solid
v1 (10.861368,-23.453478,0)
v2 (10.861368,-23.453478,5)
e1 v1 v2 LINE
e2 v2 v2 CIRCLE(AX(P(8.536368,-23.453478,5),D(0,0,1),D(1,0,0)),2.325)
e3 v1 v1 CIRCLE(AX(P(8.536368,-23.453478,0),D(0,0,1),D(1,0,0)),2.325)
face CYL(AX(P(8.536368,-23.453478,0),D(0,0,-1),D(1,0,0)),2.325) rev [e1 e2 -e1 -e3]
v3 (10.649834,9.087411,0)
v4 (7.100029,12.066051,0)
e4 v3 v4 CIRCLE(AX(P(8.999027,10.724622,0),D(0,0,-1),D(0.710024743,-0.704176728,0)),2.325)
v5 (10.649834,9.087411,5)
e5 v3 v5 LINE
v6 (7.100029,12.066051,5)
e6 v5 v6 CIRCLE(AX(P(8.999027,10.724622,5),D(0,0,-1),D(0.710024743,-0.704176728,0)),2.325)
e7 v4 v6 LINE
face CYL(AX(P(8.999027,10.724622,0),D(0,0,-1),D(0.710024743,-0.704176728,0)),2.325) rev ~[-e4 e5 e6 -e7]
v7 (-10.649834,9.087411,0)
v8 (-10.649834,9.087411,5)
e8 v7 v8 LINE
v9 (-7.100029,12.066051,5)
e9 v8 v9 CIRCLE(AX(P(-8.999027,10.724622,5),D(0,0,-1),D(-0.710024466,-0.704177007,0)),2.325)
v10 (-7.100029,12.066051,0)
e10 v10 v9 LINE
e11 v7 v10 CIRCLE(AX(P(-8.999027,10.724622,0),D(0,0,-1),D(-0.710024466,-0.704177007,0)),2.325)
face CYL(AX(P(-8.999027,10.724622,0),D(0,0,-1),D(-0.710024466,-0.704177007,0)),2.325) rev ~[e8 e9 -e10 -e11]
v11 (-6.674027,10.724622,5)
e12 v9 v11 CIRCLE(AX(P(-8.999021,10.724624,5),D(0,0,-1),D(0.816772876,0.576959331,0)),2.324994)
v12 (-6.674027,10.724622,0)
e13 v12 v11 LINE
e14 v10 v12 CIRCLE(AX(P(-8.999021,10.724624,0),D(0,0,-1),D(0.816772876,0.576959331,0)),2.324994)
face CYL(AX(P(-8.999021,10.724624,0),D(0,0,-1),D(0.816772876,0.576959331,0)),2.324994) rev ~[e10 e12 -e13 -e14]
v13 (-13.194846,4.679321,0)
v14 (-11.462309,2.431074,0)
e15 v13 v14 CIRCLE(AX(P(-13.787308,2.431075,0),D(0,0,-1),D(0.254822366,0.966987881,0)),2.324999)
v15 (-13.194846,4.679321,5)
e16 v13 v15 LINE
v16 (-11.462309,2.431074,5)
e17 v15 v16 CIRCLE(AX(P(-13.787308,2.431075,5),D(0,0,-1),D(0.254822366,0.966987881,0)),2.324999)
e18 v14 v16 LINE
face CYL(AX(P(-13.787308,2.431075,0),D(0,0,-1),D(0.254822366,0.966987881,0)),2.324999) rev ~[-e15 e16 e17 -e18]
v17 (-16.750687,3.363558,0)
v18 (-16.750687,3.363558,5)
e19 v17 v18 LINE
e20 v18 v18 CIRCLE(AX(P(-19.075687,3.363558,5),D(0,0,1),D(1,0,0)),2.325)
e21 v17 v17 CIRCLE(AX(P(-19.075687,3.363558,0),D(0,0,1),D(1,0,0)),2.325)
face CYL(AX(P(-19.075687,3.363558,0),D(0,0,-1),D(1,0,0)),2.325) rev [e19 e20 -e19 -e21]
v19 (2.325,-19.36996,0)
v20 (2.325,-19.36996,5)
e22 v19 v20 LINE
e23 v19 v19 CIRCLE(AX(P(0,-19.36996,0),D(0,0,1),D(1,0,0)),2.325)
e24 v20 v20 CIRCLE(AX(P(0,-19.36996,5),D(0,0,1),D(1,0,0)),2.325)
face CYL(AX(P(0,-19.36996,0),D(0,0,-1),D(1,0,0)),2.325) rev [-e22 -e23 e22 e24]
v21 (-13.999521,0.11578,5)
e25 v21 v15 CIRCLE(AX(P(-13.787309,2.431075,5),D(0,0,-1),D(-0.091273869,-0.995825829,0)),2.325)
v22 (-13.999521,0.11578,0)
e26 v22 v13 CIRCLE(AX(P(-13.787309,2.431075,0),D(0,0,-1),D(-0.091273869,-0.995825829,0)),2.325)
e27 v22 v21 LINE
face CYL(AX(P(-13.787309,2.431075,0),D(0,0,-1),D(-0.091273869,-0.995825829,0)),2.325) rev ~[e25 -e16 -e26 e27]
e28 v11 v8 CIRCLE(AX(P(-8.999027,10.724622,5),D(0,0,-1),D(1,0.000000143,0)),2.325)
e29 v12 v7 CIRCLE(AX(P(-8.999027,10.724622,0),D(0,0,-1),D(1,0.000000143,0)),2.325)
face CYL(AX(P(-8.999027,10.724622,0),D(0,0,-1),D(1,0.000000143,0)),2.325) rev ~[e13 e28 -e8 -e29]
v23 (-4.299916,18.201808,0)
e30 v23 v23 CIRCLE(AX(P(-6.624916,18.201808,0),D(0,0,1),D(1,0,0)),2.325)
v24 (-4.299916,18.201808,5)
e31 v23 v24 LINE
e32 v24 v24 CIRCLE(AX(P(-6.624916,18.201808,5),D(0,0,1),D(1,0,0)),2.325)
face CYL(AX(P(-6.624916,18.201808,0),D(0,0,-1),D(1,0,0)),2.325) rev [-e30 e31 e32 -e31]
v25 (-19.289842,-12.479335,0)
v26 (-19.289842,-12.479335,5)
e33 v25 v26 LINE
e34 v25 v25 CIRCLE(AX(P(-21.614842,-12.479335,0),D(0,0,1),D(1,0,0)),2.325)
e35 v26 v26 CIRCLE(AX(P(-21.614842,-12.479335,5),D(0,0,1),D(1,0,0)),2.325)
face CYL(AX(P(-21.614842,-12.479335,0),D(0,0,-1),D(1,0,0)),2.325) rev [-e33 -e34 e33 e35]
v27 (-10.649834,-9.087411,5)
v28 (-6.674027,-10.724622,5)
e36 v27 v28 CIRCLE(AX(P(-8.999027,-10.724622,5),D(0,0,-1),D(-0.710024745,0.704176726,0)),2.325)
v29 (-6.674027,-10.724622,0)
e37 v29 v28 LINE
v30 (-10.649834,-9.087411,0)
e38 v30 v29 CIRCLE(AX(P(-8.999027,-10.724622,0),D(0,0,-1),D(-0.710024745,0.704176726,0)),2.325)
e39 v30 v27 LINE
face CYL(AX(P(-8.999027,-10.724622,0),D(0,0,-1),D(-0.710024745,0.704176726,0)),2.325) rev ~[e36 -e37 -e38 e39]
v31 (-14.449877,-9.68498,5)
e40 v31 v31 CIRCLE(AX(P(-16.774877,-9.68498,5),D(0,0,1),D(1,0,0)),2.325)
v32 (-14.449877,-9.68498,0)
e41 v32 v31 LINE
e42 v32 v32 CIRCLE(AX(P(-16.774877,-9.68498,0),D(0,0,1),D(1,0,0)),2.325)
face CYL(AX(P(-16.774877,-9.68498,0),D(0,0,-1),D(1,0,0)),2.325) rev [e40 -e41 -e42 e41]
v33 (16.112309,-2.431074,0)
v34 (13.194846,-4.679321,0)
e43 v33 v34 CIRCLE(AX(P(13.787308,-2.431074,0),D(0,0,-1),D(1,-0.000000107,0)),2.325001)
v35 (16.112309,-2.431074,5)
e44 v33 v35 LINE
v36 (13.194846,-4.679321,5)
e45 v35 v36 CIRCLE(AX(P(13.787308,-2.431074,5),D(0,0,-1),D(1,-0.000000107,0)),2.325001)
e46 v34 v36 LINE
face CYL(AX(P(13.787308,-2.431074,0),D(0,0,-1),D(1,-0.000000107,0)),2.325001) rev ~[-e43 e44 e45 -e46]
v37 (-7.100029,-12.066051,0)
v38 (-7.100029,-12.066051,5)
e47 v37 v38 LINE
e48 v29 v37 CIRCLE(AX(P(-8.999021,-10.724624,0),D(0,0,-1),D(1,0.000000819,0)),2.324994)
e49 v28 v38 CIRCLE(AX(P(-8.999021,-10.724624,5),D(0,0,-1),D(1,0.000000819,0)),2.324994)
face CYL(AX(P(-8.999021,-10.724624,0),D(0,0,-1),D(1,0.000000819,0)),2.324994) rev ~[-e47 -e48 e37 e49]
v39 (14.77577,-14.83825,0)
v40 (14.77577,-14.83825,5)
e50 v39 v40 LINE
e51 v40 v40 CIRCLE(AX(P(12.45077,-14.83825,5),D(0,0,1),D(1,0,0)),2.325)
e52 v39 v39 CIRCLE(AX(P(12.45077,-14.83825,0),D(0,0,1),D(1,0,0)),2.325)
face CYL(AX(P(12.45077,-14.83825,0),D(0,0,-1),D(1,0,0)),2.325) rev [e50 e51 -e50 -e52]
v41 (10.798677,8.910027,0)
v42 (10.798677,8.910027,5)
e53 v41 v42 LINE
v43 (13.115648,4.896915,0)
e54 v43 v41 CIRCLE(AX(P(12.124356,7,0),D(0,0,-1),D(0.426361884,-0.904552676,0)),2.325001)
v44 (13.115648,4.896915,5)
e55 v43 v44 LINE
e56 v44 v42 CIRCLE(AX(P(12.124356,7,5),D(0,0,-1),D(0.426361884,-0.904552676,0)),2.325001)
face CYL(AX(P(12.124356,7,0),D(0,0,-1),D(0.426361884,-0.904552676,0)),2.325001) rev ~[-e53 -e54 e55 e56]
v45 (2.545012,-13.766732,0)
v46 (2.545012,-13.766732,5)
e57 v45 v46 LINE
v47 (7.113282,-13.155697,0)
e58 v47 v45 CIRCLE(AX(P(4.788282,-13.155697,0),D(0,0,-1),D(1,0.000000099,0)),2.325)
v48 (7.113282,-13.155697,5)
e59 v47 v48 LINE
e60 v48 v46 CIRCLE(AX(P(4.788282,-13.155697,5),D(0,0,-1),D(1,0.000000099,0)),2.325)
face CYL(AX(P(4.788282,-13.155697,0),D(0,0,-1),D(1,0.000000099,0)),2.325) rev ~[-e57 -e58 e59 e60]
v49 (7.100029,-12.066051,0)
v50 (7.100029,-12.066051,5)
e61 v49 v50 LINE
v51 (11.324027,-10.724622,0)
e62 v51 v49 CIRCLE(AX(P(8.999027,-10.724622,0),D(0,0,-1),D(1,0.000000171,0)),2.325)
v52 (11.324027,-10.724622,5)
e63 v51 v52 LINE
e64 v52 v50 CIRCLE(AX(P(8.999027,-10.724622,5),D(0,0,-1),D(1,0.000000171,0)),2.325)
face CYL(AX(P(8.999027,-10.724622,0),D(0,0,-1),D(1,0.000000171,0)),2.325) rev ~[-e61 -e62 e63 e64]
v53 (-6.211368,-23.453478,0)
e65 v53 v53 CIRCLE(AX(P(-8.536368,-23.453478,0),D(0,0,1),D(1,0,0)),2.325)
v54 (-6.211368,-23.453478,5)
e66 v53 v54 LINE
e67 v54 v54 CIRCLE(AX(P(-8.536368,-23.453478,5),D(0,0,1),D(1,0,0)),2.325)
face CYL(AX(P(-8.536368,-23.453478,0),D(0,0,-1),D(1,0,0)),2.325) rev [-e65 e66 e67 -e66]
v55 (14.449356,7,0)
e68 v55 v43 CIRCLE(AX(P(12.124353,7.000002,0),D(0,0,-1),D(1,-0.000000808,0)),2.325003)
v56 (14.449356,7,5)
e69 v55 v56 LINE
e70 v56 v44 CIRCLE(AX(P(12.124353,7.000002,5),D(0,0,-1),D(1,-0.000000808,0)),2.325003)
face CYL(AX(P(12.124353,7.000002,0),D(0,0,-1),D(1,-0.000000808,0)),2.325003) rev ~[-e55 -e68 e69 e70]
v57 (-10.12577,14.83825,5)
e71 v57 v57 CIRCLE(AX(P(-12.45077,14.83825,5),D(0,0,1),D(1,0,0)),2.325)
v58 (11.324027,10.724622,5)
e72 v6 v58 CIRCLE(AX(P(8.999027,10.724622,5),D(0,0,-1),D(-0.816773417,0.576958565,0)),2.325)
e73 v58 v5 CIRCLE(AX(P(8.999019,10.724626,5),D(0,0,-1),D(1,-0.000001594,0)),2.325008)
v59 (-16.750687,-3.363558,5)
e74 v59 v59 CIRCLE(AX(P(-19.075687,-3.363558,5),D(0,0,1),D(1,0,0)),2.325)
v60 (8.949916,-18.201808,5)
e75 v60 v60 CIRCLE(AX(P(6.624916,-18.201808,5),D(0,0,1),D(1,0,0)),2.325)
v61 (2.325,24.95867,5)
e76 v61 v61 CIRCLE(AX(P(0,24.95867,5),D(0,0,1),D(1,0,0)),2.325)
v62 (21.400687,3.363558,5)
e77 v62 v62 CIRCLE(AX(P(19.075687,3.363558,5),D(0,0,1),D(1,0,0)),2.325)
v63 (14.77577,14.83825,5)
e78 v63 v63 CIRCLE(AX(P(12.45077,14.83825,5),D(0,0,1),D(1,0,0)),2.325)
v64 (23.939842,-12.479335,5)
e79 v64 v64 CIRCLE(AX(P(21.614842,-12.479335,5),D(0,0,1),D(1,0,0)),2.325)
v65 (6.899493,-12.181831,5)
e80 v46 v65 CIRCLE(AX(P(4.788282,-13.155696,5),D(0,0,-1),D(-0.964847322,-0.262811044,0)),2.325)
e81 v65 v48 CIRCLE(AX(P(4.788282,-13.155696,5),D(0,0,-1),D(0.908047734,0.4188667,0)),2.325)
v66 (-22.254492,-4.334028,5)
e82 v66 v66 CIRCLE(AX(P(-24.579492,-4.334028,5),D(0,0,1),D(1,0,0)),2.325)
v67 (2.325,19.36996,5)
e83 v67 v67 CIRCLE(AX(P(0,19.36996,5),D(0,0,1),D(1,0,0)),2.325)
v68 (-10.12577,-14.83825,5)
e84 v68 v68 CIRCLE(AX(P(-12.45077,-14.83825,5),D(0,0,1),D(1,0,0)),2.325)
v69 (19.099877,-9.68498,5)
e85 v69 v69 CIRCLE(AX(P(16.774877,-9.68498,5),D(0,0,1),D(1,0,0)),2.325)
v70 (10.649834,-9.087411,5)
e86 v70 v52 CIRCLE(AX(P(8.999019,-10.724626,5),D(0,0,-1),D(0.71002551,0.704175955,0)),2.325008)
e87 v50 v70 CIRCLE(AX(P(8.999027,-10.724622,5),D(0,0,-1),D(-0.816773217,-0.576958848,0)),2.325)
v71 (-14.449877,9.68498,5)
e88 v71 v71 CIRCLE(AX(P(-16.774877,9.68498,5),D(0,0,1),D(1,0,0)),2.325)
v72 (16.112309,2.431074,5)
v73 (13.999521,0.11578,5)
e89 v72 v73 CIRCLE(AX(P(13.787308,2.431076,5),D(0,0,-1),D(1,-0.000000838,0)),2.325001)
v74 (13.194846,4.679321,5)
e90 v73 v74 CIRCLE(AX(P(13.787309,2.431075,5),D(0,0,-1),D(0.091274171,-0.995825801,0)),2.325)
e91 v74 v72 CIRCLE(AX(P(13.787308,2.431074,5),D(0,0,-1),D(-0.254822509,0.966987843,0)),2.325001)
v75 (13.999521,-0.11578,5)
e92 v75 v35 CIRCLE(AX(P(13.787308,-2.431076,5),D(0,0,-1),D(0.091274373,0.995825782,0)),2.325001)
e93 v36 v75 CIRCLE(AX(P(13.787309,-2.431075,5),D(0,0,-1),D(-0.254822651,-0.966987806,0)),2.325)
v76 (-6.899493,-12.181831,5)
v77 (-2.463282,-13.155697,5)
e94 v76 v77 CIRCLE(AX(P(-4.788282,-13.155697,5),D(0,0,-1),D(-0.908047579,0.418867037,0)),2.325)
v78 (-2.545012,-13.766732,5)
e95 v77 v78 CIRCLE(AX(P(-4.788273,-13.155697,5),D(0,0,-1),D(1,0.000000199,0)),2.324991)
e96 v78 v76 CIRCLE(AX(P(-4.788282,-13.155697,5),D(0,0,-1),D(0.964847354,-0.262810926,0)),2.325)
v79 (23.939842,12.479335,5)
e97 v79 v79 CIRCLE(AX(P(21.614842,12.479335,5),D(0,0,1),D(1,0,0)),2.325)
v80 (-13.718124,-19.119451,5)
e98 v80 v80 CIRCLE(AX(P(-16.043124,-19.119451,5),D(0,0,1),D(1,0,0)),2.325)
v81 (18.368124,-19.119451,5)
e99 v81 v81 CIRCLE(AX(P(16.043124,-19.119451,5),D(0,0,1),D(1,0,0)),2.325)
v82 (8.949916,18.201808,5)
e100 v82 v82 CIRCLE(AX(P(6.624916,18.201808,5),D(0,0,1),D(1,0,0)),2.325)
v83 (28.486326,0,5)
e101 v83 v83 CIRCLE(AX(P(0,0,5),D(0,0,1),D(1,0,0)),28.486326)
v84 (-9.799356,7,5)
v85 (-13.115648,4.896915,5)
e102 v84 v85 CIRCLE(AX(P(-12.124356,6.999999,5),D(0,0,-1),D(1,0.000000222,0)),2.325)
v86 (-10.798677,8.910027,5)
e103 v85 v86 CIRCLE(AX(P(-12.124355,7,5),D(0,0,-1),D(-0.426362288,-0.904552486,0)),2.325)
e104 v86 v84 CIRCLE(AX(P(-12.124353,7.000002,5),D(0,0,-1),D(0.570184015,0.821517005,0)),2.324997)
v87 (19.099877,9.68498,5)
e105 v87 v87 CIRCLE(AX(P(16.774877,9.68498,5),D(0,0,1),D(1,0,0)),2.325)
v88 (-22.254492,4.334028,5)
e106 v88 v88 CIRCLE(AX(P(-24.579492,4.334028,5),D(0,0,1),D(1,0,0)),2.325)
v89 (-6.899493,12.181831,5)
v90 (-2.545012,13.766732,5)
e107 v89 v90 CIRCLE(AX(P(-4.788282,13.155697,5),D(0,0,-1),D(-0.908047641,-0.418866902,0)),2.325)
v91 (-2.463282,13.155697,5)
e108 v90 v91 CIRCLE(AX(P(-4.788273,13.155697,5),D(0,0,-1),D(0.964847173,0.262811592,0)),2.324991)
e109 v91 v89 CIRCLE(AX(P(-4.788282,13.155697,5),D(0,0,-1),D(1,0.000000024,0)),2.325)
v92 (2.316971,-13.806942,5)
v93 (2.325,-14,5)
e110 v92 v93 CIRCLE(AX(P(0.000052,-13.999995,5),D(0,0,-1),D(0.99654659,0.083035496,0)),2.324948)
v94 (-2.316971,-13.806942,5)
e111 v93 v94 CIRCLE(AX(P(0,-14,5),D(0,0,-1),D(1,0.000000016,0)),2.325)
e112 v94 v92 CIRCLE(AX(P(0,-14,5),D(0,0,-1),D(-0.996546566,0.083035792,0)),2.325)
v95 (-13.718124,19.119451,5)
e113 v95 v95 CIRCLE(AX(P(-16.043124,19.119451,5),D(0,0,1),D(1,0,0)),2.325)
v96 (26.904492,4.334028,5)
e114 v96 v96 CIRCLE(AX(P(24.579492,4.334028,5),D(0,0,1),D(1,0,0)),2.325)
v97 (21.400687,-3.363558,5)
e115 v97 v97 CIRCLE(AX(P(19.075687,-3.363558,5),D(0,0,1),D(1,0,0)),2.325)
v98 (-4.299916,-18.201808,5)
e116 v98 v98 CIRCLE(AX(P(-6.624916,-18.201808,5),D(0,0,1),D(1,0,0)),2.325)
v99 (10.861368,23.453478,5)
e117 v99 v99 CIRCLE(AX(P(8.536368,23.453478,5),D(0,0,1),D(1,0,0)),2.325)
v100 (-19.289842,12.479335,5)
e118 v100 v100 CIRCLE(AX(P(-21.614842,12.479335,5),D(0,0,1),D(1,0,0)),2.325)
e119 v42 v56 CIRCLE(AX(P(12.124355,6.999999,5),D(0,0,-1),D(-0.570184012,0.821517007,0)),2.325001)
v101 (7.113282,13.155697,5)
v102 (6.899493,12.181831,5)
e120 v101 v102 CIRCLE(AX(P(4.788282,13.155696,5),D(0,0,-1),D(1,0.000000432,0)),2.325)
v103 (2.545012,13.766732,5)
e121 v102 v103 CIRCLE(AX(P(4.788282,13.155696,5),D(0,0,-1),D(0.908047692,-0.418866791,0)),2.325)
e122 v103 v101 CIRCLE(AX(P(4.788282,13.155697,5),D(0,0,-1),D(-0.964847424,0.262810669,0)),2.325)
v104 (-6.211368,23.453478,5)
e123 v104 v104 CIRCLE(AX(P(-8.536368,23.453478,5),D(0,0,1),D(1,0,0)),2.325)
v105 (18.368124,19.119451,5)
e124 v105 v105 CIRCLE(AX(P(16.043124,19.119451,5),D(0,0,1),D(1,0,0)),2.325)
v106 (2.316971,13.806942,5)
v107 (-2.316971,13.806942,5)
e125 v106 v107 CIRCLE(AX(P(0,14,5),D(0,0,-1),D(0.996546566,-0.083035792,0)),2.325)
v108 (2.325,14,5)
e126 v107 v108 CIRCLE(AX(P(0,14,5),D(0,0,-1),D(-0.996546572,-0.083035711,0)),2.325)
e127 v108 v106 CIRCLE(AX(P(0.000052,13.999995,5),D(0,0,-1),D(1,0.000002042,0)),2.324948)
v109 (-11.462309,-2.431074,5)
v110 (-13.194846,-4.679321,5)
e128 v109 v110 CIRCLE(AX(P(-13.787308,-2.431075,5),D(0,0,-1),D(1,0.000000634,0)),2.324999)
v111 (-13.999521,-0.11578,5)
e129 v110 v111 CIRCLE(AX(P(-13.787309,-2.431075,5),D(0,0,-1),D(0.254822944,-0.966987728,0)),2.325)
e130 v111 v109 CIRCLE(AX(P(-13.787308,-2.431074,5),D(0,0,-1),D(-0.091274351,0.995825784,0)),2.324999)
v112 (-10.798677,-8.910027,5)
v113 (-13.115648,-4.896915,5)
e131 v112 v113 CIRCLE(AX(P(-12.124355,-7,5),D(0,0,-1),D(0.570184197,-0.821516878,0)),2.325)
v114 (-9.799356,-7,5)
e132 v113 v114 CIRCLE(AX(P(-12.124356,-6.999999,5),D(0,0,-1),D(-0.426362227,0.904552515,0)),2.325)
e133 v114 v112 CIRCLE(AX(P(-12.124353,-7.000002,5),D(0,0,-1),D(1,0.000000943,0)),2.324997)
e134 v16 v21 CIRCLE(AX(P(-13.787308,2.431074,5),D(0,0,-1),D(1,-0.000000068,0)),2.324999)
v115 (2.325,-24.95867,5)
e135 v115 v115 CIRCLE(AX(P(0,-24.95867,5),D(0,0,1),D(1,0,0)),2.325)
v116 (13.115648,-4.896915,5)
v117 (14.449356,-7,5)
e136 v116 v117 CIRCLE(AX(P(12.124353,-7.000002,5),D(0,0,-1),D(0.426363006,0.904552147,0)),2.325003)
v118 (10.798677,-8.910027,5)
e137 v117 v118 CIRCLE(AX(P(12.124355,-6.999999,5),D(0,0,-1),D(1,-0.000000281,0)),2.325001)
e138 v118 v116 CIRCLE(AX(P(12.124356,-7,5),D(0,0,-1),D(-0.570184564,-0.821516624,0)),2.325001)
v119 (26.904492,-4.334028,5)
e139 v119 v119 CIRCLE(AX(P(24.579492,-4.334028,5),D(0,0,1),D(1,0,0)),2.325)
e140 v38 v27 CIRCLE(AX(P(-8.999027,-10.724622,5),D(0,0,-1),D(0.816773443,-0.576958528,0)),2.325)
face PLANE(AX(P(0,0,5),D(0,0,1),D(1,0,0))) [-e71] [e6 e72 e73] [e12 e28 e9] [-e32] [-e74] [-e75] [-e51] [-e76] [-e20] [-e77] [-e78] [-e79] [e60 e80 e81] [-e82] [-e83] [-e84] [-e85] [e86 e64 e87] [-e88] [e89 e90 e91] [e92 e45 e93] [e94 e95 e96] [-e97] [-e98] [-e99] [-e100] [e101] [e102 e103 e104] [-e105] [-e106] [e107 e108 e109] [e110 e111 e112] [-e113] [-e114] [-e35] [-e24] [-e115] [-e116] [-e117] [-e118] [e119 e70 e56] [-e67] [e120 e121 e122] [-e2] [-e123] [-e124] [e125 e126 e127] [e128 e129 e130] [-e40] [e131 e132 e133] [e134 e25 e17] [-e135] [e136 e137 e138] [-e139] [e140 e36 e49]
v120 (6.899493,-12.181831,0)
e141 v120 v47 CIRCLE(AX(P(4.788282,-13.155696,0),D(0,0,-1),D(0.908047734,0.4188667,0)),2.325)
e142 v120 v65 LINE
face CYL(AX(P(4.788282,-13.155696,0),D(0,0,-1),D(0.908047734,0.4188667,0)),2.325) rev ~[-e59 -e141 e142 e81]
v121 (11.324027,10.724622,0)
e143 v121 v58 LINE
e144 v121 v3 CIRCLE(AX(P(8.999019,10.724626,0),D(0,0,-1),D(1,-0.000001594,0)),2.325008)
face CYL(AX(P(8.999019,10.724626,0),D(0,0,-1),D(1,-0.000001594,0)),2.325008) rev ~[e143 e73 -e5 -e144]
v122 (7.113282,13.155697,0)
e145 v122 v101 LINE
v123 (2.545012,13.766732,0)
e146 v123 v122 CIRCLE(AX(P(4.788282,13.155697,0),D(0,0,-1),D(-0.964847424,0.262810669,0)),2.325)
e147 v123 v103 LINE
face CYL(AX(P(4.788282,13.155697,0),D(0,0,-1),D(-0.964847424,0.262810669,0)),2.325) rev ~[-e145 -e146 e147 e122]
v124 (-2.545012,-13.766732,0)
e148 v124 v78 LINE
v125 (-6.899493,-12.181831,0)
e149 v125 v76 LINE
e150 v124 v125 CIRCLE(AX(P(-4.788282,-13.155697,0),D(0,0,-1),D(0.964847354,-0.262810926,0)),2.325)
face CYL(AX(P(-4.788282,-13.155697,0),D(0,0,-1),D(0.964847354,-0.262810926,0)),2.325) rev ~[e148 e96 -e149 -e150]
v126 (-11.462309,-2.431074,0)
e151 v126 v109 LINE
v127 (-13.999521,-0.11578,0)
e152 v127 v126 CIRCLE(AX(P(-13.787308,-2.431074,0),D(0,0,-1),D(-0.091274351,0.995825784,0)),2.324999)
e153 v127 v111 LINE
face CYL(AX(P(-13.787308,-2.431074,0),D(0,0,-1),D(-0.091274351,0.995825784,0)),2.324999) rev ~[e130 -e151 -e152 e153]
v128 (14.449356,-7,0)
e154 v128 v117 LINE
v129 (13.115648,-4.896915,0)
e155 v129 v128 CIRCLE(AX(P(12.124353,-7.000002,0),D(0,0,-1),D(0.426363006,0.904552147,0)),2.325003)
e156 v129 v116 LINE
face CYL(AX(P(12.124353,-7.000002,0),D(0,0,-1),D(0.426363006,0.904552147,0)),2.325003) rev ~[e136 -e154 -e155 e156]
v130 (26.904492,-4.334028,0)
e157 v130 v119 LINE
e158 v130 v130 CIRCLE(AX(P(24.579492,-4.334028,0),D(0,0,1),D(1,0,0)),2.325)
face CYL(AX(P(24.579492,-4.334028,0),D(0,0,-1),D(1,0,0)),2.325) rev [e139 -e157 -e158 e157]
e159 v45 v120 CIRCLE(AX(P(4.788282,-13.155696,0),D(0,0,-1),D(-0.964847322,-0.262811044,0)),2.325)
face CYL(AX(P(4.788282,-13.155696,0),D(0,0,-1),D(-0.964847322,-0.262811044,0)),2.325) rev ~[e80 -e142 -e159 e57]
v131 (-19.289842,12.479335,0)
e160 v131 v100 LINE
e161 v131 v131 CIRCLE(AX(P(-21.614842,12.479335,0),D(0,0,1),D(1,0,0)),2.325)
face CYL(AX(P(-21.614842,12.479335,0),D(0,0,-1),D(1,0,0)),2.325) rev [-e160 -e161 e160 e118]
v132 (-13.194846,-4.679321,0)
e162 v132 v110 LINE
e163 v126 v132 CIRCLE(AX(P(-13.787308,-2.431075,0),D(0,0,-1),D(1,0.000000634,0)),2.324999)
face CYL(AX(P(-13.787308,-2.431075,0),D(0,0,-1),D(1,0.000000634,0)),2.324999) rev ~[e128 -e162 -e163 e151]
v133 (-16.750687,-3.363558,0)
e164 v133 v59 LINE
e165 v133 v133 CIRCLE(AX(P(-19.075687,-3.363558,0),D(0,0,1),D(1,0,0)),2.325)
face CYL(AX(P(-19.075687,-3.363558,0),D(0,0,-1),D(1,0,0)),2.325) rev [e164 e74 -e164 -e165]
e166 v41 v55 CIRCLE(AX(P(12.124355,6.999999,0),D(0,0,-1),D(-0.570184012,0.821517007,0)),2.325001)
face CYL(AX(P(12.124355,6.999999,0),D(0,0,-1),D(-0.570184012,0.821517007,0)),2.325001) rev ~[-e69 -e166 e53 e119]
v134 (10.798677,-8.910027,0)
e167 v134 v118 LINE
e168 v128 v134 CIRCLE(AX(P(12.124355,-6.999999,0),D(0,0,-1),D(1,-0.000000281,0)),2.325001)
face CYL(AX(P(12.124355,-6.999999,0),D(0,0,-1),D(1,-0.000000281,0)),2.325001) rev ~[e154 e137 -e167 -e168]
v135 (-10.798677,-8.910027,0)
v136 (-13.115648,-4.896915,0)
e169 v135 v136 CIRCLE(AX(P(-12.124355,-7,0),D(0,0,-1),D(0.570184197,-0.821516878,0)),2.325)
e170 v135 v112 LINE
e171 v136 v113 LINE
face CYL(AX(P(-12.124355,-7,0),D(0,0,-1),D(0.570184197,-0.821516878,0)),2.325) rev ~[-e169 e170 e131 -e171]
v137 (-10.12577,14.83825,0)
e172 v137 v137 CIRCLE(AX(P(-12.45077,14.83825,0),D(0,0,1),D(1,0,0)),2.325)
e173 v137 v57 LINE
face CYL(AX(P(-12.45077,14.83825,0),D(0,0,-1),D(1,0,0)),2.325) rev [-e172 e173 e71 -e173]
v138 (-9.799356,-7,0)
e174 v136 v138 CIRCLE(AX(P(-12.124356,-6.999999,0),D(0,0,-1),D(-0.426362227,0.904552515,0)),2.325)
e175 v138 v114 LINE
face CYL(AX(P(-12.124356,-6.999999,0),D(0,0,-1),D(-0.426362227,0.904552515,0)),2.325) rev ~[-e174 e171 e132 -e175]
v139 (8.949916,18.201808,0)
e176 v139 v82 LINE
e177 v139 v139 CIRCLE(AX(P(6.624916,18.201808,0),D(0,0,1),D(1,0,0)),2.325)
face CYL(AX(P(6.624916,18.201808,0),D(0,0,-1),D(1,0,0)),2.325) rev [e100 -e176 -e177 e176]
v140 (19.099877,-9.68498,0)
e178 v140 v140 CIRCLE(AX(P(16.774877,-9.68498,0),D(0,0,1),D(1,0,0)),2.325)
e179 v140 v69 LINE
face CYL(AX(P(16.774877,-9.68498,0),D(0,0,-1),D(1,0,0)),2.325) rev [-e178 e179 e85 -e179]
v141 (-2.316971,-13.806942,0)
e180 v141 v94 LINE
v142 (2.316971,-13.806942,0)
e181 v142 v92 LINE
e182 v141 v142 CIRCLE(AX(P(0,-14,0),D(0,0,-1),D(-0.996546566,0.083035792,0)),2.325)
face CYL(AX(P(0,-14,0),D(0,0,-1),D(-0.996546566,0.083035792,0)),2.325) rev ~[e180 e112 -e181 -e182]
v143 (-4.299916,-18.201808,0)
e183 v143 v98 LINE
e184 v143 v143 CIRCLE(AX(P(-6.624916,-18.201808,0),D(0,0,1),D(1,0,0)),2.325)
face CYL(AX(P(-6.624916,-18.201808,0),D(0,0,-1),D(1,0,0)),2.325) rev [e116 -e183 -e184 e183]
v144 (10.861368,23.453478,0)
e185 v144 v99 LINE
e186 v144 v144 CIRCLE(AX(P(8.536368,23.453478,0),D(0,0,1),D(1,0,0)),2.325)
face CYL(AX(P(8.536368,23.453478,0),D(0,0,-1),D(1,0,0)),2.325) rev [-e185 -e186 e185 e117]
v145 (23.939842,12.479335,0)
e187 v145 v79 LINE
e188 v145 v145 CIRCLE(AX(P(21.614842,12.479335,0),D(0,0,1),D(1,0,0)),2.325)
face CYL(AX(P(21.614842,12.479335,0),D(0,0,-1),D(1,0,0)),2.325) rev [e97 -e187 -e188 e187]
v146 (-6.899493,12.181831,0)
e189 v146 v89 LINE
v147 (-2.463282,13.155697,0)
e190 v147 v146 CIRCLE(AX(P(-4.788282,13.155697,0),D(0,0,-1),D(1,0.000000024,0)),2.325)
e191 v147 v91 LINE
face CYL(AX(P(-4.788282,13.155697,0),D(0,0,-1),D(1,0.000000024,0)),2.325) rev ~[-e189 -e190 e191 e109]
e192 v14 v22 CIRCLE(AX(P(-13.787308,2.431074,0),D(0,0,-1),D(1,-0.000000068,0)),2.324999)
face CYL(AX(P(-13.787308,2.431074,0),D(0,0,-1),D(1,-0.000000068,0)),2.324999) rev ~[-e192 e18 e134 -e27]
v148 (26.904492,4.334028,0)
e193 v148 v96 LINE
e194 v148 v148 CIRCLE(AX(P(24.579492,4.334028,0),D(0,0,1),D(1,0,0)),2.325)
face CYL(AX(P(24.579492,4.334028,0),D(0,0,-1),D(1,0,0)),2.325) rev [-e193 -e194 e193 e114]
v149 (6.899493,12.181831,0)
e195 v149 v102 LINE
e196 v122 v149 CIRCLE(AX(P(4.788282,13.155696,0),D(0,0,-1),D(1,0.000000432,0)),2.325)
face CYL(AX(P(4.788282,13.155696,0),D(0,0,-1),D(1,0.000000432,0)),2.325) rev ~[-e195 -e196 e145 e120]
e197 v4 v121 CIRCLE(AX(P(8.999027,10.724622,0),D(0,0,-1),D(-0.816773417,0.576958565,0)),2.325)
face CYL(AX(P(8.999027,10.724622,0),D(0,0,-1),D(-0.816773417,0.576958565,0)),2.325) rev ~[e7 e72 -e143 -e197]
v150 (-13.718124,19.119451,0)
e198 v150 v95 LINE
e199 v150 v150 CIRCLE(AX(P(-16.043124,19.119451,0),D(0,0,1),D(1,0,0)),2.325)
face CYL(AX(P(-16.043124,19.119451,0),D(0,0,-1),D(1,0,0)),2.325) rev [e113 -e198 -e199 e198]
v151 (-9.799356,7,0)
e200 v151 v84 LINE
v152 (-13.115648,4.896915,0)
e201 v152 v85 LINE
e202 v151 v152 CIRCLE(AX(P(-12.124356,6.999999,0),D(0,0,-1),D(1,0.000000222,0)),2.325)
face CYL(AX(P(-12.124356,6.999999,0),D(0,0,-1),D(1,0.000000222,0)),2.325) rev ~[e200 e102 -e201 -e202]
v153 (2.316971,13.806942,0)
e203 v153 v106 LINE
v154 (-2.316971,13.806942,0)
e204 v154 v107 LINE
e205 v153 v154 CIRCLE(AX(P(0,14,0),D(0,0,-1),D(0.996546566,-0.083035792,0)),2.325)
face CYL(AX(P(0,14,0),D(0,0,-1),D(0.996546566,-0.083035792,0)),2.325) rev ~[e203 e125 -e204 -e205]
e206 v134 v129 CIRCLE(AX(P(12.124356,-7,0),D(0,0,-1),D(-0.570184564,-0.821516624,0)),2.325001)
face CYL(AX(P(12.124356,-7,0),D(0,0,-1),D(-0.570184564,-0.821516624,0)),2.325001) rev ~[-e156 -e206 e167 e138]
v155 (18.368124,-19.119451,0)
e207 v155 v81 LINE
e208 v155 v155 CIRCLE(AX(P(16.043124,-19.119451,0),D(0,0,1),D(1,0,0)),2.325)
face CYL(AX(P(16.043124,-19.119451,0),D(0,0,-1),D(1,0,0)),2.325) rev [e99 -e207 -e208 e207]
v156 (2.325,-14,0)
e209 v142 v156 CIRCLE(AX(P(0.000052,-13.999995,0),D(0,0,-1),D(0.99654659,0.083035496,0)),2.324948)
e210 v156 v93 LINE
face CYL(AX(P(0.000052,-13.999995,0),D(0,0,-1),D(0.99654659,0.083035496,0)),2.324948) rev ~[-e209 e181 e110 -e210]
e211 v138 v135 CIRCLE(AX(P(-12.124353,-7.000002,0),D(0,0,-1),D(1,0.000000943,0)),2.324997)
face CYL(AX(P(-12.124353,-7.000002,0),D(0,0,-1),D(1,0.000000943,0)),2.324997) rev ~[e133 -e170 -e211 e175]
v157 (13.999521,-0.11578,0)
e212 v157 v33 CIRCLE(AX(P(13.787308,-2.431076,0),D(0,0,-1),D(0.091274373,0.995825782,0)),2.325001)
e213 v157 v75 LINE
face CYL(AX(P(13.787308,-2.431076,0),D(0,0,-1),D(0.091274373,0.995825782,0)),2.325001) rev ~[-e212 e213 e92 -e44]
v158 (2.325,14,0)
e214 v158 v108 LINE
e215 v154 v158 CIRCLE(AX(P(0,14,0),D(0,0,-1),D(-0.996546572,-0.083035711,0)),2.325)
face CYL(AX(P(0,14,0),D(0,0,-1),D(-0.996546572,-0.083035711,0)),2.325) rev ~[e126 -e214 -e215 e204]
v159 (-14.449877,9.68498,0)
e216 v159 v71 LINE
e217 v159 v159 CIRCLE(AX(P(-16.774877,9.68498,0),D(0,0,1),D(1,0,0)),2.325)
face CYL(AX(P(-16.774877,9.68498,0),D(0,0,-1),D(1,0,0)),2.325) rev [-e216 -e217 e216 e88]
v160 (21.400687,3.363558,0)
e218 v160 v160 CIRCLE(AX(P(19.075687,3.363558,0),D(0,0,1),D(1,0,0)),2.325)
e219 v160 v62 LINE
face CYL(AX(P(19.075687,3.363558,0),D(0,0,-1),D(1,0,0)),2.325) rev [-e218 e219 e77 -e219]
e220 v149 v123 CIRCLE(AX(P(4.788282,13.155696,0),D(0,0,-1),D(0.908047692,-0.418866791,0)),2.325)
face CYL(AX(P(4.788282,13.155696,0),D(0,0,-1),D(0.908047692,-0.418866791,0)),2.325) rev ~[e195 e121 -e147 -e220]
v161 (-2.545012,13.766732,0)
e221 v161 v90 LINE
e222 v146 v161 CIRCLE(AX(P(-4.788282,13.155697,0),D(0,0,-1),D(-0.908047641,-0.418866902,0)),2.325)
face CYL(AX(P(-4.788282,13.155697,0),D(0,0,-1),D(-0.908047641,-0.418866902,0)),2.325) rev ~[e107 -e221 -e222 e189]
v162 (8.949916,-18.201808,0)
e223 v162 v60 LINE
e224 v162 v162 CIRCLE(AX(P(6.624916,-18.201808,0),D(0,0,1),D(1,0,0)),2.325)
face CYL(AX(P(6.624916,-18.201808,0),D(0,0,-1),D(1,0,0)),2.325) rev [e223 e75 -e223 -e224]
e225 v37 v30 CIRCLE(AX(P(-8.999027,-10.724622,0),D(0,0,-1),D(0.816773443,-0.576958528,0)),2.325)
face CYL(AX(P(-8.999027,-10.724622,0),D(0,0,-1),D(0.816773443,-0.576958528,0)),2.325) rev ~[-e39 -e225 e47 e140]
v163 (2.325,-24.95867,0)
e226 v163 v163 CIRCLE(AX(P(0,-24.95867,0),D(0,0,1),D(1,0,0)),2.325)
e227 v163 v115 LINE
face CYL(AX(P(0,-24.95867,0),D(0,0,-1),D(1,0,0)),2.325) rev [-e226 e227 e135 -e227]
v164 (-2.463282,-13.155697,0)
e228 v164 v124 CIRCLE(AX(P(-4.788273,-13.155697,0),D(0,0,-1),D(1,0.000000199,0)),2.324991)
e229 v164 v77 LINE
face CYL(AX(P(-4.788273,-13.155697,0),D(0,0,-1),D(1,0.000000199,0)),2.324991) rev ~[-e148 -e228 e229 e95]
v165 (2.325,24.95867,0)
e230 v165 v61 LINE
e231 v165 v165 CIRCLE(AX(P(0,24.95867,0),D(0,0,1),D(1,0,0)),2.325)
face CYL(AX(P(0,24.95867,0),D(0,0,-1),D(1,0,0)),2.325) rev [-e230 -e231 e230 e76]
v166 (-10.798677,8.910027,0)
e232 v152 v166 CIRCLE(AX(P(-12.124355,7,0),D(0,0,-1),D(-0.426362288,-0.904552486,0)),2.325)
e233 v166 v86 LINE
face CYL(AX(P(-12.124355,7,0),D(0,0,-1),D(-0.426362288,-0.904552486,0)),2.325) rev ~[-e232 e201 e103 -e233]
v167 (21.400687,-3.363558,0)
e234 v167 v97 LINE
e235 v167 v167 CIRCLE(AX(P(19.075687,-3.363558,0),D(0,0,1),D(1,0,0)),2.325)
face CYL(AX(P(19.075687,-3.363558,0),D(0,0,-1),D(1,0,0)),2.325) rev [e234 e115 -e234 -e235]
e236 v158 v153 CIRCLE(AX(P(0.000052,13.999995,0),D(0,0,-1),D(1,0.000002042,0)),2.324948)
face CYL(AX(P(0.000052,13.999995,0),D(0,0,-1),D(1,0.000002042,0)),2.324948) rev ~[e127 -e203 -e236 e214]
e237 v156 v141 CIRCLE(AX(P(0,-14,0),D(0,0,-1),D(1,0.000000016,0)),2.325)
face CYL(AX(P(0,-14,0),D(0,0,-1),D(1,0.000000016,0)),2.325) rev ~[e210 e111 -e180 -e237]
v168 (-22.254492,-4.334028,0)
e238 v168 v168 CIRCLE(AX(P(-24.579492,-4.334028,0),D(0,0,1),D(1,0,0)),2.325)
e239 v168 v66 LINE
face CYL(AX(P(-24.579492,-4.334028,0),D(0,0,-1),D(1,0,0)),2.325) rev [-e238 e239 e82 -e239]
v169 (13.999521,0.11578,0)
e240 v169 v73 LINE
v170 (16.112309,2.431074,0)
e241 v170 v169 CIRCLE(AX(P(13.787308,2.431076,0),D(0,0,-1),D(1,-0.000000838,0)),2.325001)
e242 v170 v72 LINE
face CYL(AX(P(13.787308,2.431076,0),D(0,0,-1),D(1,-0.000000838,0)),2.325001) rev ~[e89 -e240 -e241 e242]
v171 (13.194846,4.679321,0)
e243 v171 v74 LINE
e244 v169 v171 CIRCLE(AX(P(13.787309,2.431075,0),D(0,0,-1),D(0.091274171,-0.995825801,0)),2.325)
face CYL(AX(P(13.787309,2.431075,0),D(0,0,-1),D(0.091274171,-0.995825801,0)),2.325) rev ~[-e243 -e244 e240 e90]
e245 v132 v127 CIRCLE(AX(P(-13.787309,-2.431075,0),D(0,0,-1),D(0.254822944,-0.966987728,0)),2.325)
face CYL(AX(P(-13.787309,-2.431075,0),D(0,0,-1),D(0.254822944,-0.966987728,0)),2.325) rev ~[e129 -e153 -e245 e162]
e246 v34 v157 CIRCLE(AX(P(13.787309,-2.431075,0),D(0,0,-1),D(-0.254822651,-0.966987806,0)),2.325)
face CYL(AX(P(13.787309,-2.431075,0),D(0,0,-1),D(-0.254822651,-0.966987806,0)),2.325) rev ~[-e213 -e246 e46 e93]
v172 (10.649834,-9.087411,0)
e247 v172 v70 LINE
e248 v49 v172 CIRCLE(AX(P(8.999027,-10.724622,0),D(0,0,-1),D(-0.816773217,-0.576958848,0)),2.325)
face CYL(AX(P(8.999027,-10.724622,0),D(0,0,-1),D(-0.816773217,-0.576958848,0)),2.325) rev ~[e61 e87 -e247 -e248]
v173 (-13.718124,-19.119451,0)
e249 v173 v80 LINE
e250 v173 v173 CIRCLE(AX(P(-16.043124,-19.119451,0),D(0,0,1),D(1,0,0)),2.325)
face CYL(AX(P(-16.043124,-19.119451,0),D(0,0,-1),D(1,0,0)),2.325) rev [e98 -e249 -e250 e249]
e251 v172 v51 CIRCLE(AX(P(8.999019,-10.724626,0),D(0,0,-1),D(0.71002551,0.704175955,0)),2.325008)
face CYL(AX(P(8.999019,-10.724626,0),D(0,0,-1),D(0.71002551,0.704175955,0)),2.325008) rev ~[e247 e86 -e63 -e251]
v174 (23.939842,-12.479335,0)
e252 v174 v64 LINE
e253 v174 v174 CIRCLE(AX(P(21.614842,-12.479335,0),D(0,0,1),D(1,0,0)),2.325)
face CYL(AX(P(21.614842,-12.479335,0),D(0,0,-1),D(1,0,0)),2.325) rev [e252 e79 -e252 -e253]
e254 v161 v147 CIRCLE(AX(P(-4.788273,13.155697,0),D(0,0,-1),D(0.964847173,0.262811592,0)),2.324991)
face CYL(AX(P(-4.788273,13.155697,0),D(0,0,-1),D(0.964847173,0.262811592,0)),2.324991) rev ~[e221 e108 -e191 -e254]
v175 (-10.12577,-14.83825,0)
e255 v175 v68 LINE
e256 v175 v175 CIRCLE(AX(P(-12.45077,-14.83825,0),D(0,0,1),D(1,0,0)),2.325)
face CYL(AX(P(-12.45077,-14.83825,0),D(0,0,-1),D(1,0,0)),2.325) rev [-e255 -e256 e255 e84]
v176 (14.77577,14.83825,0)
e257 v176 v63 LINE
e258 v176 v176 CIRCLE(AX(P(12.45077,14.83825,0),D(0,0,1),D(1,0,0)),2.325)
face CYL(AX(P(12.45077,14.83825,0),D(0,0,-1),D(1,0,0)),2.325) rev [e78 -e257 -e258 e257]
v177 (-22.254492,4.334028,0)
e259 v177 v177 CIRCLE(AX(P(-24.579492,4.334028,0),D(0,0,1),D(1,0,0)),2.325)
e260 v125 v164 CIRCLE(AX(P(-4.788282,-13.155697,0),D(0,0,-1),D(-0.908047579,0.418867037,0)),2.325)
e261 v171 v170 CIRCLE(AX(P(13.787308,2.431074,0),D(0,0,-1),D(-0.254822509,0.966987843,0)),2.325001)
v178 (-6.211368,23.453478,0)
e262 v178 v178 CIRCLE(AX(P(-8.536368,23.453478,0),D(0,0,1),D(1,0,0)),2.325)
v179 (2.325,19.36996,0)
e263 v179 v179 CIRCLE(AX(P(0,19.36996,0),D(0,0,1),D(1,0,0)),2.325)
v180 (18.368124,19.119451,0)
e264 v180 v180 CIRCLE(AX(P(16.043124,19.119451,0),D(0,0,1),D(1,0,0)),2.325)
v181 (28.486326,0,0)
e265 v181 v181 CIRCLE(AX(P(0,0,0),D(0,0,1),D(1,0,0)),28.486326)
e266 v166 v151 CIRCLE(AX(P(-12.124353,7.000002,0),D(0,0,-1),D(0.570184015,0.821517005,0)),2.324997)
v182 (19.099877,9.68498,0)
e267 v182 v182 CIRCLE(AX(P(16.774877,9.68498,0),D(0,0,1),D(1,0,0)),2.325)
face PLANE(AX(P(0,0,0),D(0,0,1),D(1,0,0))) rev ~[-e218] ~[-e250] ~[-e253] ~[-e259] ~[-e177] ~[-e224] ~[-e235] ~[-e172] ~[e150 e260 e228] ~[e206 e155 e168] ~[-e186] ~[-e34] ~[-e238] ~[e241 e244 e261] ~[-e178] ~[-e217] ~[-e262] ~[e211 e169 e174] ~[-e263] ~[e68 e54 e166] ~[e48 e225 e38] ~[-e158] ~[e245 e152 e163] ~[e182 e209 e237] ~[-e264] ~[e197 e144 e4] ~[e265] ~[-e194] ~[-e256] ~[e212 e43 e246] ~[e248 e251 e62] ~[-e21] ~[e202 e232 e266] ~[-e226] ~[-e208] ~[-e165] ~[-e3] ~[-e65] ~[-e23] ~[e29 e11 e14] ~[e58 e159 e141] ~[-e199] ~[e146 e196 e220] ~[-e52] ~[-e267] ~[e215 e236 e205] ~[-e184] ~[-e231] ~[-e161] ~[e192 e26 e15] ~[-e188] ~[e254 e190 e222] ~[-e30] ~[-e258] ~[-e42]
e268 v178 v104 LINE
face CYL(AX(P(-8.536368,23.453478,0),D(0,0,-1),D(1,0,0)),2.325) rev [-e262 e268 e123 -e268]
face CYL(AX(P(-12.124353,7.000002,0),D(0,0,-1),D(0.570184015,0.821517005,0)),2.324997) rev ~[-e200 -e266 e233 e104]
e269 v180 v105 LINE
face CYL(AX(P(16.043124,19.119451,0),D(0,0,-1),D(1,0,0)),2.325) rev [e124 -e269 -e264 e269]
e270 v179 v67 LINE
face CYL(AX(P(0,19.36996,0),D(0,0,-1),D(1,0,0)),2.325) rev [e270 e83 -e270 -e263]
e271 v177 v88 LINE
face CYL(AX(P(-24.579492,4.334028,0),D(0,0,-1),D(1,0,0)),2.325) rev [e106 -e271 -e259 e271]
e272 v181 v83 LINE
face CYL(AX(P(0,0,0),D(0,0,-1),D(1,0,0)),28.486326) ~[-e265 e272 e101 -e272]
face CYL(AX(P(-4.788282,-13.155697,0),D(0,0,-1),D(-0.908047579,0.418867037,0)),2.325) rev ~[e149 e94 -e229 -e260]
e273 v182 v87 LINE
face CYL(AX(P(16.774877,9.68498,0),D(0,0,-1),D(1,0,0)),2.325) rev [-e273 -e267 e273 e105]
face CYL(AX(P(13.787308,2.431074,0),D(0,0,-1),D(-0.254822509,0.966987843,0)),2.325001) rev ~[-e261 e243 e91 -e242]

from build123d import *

# Parameters (mm, degrees)
F0_R     = 28.486326
F0_R_2   = 2.325
F1_DEPTH = 5


with BuildPart() as f1:
    # F0 (on Top) → F1 (new body)
    with BuildSketch(Plane.XY):
        Circle(F0_R)
        with Locations((-16.043124, -19.119451)):
            Circle(F0_R_2, mode=Mode.SUBTRACT)
        with Locations((-8.536368, -23.453478)):
            Circle(F0_R_2, mode=Mode.SUBTRACT)
        with Locations((-12.45077, -14.83825)):
            Circle(F0_R_2, mode=Mode.SUBTRACT)
        with Locations((-6.624916, -18.201808)):
            Circle(F0_R_2, mode=Mode.SUBTRACT)
        with Locations((-21.614842, -12.479335)):
            Circle(F0_R_2, mode=Mode.SUBTRACT)
        with Locations((-16.774877, -9.68498)):
            Circle(F0_R_2, mode=Mode.SUBTRACT)
        with Locations((-24.579492, -4.334028)):
            Circle(F0_R_2, mode=Mode.SUBTRACT)
        with Locations((-19.075687, -3.363558)):
            Circle(F0_R_2, mode=Mode.SUBTRACT)
        with Locations((0, -24.95867)):
            Circle(F0_R_2, mode=Mode.SUBTRACT)
        with Locations((8.536368, -23.453478)):
            Circle(F0_R_2, mode=Mode.SUBTRACT)
        with Locations((0, -19.36996)):
            Circle(F0_R_2, mode=Mode.SUBTRACT)
        with Locations((6.624916, -18.201808)):
            Circle(F0_R_2, mode=Mode.SUBTRACT)
        with Locations((12.45077, -14.83825)):
            Circle(F0_R_2, mode=Mode.SUBTRACT)
        with Locations((16.043124, -19.119451)):
            Circle(F0_R_2, mode=Mode.SUBTRACT)
        with Locations((16.774877, -9.68498)):
            Circle(F0_R_2, mode=Mode.SUBTRACT)
        with Locations((21.614842, -12.479335)):
            Circle(F0_R_2, mode=Mode.SUBTRACT)
        with Locations((19.075687, -3.363558)):
            Circle(F0_R_2, mode=Mode.SUBTRACT)
        with Locations((24.579492, -4.334028)):
            Circle(F0_R_2, mode=Mode.SUBTRACT)
        with Locations((-24.579492, 4.334028)):
            Circle(F0_R_2, mode=Mode.SUBTRACT)
        with Locations((-19.075687, 3.363558)):
            Circle(F0_R_2, mode=Mode.SUBTRACT)
        with Locations((-21.614842, 12.479335)):
            Circle(F0_R_2, mode=Mode.SUBTRACT)
        with Locations((-16.774877, 9.68498)):
            Circle(F0_R_2, mode=Mode.SUBTRACT)
        with Locations((-16.043124, 19.119451)):
            Circle(F0_R_2, mode=Mode.SUBTRACT)
        with Locations((-12.45077, 14.83825)):
            Circle(F0_R_2, mode=Mode.SUBTRACT)
        with Locations((-6.624916, 18.201808)):
            Circle(F0_R_2, mode=Mode.SUBTRACT)
        with Locations((-8.536368, 23.453478)):
            Circle(F0_R_2, mode=Mode.SUBTRACT)
        with BuildLine():
            ThreePointArc((13.999521, 0.11578), (13.99988, 0.05789), (14, 0))
            ThreePointArc((14, 0), (13.99988, -0.05789), (13.999521, -0.11578))
            ThreePointArc((13.999521, -0.11578), (15.504722, -0.863875), (16.112309, -2.431074))
            ThreePointArc((16.112309, -2.431074), (15.206489, -4.272691), (13.194846, -4.679321))
            ThreePointArc((13.194846, -4.679321), (13.155697, -4.788282), (13.115648, -4.896915))
            ThreePointArc((13.115648, -4.896915), (14.087819, -5.754835), (14.449356, -7))
            ThreePointArc((14.449356, -7), (13.202183, -9.060076), (10.798677, -8.910027))
            ThreePointArc((10.798677, -8.910027), (10.724622, -8.999027), (10.649834, -9.087411))
            ThreePointArc((10.649834, -9.087411), (11.148881, -9.839326), (11.324027, -10.724622))
            ThreePointArc((11.324027, -10.724622), (9.702751, -12.940564), (7.100029, -12.066051))
            ThreePointArc((7.100029, -12.066051), (7, -12.124356), (6.899493, -12.181831))
            ThreePointArc((6.899493, -12.181831), (7.059206, -12.657169), (7.113282, -13.155697))
            ThreePointArc((7.113282, -13.155697), (5.096521, -15.460174), (2.545012, -13.766732))
            ThreePointArc((2.545012, -13.766732), (2.431074, -13.787309), (2.316971, -13.806942))
            ThreePointArc((2.316971, -13.806942), (2.322992, -13.903388), (2.325, -14))
            ThreePointArc((2.325, -14), (-0.096612, -16.322992), (-2.316971, -13.806942))
            ThreePointArc((-2.316971, -13.806942), (-2.431074, -13.787309), (-2.545012, -13.766732))
            ThreePointArc((-2.545012, -13.766732), (-5.583479, -15.340482), (-6.899493, -12.181831))
            ThreePointArc((-6.899493, -12.181831), (-7, -12.124356), (-7.100029, -12.066051))
            ThreePointArc((-7.100029, -12.066051), (-10.493508, -12.505676), (-10.649834, -9.087411))
            ThreePointArc((-10.649834, -9.087411), (-10.724622, -8.999027), (-10.798677, -8.910027))
            ThreePointArc((-10.798677, -8.910027), (-14.137865, -8.1625), (-13.115648, -4.896915))
            ThreePointArc((-13.115648, -4.896915), (-13.155697, -4.788282), (-13.194846, -4.679321))
            ThreePointArc((-13.194846, -4.679321), (-16.076987, -2.834807), (-13.999521, -0.11578))
            ThreePointArc((-13.999521, -0.11578), (-14, 0), (-13.999521, 0.11578))
            ThreePointArc((-13.999521, 0.11578), (-16.076987, 2.834807), (-13.194846, 4.679321))
            ThreePointArc((-13.194846, 4.679321), (-13.155697, 4.788282), (-13.115648, 4.896915))
            ThreePointArc((-13.115648, 4.896915), (-14.137865, 8.1625), (-10.798677, 8.910027))
            ThreePointArc((-10.798677, 8.910027), (-10.724622, 8.999027), (-10.649834, 9.087411))
            ThreePointArc((-10.649834, 9.087411), (-10.493508, 12.505676), (-7.100029, 12.066051))
            ThreePointArc((-7.100029, 12.066051), (-7, 12.124356), (-6.899493, 12.181831))
            ThreePointArc((-6.899493, 12.181831), (-5.583479, 15.340482), (-2.545012, 13.766732))
            ThreePointArc((-2.545012, 13.766732), (-2.431074, 13.787309), (-2.316971, 13.806942))
            ThreePointArc((-2.316971, 13.806942), (-0.096612, 16.322992), (2.325, 14))
            ThreePointArc((2.325, 14), (2.322992, 13.903388), (2.316971, 13.806942))
            ThreePointArc((2.316971, 13.806942), (2.431074, 13.787309), (2.545012, 13.766732))
            ThreePointArc((2.545012, 13.766732), (5.096521, 15.460174), (7.113282, 13.155697))
            ThreePointArc((7.113282, 13.155697), (7.059206, 12.657169), (6.899493, 12.181831))
            ThreePointArc((6.899493, 12.181831), (7, 12.124356), (7.100029, 12.066051))
            ThreePointArc((7.100029, 12.066051), (9.702751, 12.940564), (11.324027, 10.724622))
            ThreePointArc((11.324027, 10.724622), (11.148881, 9.839326), (10.649834, 9.087411))
            ThreePointArc((10.649834, 9.087411), (10.724622, 8.999027), (10.798677, 8.910027))
            ThreePointArc((10.798677, 8.910027), (13.202183, 9.060076), (14.449356, 7))
            ThreePointArc((14.449356, 7), (14.087819, 5.754835), (13.115648, 4.896915))
            ThreePointArc((13.115648, 4.896915), (13.155697, 4.788282), (13.194846, 4.679321))
            ThreePointArc((13.194846, 4.679321), (15.206489, 4.272691), (16.112309, 2.431074))
            ThreePointArc((16.112309, 2.431074), (15.504722, 0.863875), (13.999521, 0.11578))
        make_face(mode=Mode.SUBTRACT)
        with Locations((19.075687, 3.363558)):
            Circle(F0_R_2, mode=Mode.SUBTRACT)
        with Locations((24.579492, 4.334028)):
            Circle(F0_R_2, mode=Mode.SUBTRACT)
        with Locations((16.774877, 9.68498)):
            Circle(F0_R_2, mode=Mode.SUBTRACT)
        with Locations((21.614842, 12.479335)):
            Circle(F0_R_2, mode=Mode.SUBTRACT)
        with Locations((0, 19.36996)):
            Circle(F0_R_2, mode=Mode.SUBTRACT)
        with Locations((6.624916, 18.201808)):
            Circle(F0_R_2, mode=Mode.SUBTRACT)
        with Locations((12.45077, 14.83825)):
            Circle(F0_R_2, mode=Mode.SUBTRACT)
        with Locations((0, 24.95867)):
            Circle(F0_R_2, mode=Mode.SUBTRACT)
        with Locations((8.536368, 23.453478)):
            Circle(F0_R_2, mode=Mode.SUBTRACT)
        with Locations((16.043124, 19.119451)):
            Circle(F0_R_2, mode=Mode.SUBTRACT)
        with BuildLine():
            ThreePointArc((13.999521, -0.11578), (13.99988, -0.05789), (14, 0))
            ThreePointArc((14, 0), (13.99988, 0.05789), (13.999521, 0.11578))
            ThreePointArc((13.999521, 0.11578), (11.497631, 2.027342), (13.194846, 4.679321))
            ThreePointArc((13.194846, 4.679321), (13.155697, 4.788282), (13.115648, 4.896915))
            ThreePointArc((13.115648, 4.896915), (10.110847, 5.8375), (10.798677, 8.910027))
            ThreePointArc((10.798677, 8.910027), (10.724622, 8.999027), (10.649834, 9.087411))
            ThreePointArc((10.649834, 9.087411), (7.504545, 8.943569), (7.100029, 12.066051))
            ThreePointArc((7.100029, 12.066051), (7, 12.124356), (6.899493, 12.181831))
            ThreePointArc((6.899493, 12.181831), (3.993085, 10.970911), (2.545012, 13.766732))
            ThreePointArc((2.545012, 13.766732), (2.431074, 13.787309), (2.316971, 13.806942))
            ThreePointArc((2.316971, 13.806942), (0, 11.675), (-2.316971, 13.806942))
            ThreePointArc((-2.316971, 13.806942), (-2.431074, 13.787309), (-2.545012, 13.766732))
            ThreePointArc((-2.545012, 13.766732), (-2.483805, 13.463935), (-2.463282, 13.155697))
            ThreePointArc((-2.463282, 13.155697), (-4.289754, 10.884773), (-6.899493, 12.181831))
            ThreePointArc((-6.899493, 12.181831), (-7, 12.124356), (-7.100029, 12.066051))
            ThreePointArc((-7.100029, 12.066051), (-6.783085, 11.428346), (-6.674027, 10.724622))
            ThreePointArc((-6.674027, 10.724622), (-8.113731, 8.574767), (-10.649834, 9.087411))
            ThreePointArc((-10.649834, 9.087411), (-10.724622, 8.999027), (-10.798677, 8.910027))
            ThreePointArc((-10.798677, 8.910027), (-10.064279, 8.077827), (-9.799356, 7))
            ThreePointArc((-9.799356, 7), (-10.879191, 5.036536), (-13.115648, 4.896915))
            ThreePointArc((-13.115648, 4.896915), (-13.155697, 4.788282), (-13.194846, 4.679321))
            ThreePointArc((-13.194846, 4.679321), (-11.945692, 3.850255), (-11.462309, 2.431074))
            ThreePointArc((-11.462309, 2.431074), (-12.220109, 0.713661), (-13.999521, 0.11578))
            ThreePointArc((-13.999521, 0.11578), (-14, 0), (-13.999521, -0.11578))
            ThreePointArc((-13.999521, -0.11578), (-12.220109, -0.713661), (-11.462309, -2.431074))
            ThreePointArc((-11.462309, -2.431074), (-11.945692, -3.850255), (-13.194846, -4.679321))
            ThreePointArc((-13.194846, -4.679321), (-13.155697, -4.788282), (-13.115648, -4.896915))
            ThreePointArc((-13.115648, -4.896915), (-10.879191, -5.036536), (-9.799356, -7))
            ThreePointArc((-9.799356, -7), (-10.064279, -8.077827), (-10.798677, -8.910027))
            ThreePointArc((-10.798677, -8.910027), (-10.724622, -8.999027), (-10.649834, -9.087411))
            ThreePointArc((-10.649834, -9.087411), (-8.113731, -8.574767), (-6.674027, -10.724622))
            ThreePointArc((-6.674027, -10.724622), (-6.783085, -11.428346), (-7.100029, -12.066051))
            ThreePointArc((-7.100029, -12.066051), (-7, -12.124356), (-6.899493, -12.181831))
            ThreePointArc((-6.899493, -12.181831), (-4.289754, -10.884773), (-2.463282, -13.155697))
            ThreePointArc((-2.463282, -13.155697), (-2.483805, -13.463935), (-2.545012, -13.766732))
            ThreePointArc((-2.545012, -13.766732), (-2.431074, -13.787309), (-2.316971, -13.806942))
            ThreePointArc((-2.316971, -13.806942), (0, -11.675), (2.316971, -13.806942))
            ThreePointArc((2.316971, -13.806942), (2.431074, -13.787309), (2.545012, -13.766732))
            ThreePointArc((2.545012, -13.766732), (3.993085, -10.970911), (6.899493, -12.181831))
            ThreePointArc((6.899493, -12.181831), (7, -12.124356), (7.100029, -12.066051))
            ThreePointArc((7.100029, -12.066051), (7.504545, -8.943569), (10.649834, -9.087411))
            ThreePointArc((10.649834, -9.087411), (10.724622, -8.999027), (10.798677, -8.910027))
            ThreePointArc((10.798677, -8.910027), (10.110847, -5.8375), (13.115648, -4.896915))
            ThreePointArc((13.115648, -4.896915), (13.155697, -4.788282), (13.194846, -4.679321))
            ThreePointArc((13.194846, -4.679321), (11.497631, -2.027342), (13.999521, -0.11578))
        make_face()
    extrude(amount=F1_DEPTH)


solid = f1.part
